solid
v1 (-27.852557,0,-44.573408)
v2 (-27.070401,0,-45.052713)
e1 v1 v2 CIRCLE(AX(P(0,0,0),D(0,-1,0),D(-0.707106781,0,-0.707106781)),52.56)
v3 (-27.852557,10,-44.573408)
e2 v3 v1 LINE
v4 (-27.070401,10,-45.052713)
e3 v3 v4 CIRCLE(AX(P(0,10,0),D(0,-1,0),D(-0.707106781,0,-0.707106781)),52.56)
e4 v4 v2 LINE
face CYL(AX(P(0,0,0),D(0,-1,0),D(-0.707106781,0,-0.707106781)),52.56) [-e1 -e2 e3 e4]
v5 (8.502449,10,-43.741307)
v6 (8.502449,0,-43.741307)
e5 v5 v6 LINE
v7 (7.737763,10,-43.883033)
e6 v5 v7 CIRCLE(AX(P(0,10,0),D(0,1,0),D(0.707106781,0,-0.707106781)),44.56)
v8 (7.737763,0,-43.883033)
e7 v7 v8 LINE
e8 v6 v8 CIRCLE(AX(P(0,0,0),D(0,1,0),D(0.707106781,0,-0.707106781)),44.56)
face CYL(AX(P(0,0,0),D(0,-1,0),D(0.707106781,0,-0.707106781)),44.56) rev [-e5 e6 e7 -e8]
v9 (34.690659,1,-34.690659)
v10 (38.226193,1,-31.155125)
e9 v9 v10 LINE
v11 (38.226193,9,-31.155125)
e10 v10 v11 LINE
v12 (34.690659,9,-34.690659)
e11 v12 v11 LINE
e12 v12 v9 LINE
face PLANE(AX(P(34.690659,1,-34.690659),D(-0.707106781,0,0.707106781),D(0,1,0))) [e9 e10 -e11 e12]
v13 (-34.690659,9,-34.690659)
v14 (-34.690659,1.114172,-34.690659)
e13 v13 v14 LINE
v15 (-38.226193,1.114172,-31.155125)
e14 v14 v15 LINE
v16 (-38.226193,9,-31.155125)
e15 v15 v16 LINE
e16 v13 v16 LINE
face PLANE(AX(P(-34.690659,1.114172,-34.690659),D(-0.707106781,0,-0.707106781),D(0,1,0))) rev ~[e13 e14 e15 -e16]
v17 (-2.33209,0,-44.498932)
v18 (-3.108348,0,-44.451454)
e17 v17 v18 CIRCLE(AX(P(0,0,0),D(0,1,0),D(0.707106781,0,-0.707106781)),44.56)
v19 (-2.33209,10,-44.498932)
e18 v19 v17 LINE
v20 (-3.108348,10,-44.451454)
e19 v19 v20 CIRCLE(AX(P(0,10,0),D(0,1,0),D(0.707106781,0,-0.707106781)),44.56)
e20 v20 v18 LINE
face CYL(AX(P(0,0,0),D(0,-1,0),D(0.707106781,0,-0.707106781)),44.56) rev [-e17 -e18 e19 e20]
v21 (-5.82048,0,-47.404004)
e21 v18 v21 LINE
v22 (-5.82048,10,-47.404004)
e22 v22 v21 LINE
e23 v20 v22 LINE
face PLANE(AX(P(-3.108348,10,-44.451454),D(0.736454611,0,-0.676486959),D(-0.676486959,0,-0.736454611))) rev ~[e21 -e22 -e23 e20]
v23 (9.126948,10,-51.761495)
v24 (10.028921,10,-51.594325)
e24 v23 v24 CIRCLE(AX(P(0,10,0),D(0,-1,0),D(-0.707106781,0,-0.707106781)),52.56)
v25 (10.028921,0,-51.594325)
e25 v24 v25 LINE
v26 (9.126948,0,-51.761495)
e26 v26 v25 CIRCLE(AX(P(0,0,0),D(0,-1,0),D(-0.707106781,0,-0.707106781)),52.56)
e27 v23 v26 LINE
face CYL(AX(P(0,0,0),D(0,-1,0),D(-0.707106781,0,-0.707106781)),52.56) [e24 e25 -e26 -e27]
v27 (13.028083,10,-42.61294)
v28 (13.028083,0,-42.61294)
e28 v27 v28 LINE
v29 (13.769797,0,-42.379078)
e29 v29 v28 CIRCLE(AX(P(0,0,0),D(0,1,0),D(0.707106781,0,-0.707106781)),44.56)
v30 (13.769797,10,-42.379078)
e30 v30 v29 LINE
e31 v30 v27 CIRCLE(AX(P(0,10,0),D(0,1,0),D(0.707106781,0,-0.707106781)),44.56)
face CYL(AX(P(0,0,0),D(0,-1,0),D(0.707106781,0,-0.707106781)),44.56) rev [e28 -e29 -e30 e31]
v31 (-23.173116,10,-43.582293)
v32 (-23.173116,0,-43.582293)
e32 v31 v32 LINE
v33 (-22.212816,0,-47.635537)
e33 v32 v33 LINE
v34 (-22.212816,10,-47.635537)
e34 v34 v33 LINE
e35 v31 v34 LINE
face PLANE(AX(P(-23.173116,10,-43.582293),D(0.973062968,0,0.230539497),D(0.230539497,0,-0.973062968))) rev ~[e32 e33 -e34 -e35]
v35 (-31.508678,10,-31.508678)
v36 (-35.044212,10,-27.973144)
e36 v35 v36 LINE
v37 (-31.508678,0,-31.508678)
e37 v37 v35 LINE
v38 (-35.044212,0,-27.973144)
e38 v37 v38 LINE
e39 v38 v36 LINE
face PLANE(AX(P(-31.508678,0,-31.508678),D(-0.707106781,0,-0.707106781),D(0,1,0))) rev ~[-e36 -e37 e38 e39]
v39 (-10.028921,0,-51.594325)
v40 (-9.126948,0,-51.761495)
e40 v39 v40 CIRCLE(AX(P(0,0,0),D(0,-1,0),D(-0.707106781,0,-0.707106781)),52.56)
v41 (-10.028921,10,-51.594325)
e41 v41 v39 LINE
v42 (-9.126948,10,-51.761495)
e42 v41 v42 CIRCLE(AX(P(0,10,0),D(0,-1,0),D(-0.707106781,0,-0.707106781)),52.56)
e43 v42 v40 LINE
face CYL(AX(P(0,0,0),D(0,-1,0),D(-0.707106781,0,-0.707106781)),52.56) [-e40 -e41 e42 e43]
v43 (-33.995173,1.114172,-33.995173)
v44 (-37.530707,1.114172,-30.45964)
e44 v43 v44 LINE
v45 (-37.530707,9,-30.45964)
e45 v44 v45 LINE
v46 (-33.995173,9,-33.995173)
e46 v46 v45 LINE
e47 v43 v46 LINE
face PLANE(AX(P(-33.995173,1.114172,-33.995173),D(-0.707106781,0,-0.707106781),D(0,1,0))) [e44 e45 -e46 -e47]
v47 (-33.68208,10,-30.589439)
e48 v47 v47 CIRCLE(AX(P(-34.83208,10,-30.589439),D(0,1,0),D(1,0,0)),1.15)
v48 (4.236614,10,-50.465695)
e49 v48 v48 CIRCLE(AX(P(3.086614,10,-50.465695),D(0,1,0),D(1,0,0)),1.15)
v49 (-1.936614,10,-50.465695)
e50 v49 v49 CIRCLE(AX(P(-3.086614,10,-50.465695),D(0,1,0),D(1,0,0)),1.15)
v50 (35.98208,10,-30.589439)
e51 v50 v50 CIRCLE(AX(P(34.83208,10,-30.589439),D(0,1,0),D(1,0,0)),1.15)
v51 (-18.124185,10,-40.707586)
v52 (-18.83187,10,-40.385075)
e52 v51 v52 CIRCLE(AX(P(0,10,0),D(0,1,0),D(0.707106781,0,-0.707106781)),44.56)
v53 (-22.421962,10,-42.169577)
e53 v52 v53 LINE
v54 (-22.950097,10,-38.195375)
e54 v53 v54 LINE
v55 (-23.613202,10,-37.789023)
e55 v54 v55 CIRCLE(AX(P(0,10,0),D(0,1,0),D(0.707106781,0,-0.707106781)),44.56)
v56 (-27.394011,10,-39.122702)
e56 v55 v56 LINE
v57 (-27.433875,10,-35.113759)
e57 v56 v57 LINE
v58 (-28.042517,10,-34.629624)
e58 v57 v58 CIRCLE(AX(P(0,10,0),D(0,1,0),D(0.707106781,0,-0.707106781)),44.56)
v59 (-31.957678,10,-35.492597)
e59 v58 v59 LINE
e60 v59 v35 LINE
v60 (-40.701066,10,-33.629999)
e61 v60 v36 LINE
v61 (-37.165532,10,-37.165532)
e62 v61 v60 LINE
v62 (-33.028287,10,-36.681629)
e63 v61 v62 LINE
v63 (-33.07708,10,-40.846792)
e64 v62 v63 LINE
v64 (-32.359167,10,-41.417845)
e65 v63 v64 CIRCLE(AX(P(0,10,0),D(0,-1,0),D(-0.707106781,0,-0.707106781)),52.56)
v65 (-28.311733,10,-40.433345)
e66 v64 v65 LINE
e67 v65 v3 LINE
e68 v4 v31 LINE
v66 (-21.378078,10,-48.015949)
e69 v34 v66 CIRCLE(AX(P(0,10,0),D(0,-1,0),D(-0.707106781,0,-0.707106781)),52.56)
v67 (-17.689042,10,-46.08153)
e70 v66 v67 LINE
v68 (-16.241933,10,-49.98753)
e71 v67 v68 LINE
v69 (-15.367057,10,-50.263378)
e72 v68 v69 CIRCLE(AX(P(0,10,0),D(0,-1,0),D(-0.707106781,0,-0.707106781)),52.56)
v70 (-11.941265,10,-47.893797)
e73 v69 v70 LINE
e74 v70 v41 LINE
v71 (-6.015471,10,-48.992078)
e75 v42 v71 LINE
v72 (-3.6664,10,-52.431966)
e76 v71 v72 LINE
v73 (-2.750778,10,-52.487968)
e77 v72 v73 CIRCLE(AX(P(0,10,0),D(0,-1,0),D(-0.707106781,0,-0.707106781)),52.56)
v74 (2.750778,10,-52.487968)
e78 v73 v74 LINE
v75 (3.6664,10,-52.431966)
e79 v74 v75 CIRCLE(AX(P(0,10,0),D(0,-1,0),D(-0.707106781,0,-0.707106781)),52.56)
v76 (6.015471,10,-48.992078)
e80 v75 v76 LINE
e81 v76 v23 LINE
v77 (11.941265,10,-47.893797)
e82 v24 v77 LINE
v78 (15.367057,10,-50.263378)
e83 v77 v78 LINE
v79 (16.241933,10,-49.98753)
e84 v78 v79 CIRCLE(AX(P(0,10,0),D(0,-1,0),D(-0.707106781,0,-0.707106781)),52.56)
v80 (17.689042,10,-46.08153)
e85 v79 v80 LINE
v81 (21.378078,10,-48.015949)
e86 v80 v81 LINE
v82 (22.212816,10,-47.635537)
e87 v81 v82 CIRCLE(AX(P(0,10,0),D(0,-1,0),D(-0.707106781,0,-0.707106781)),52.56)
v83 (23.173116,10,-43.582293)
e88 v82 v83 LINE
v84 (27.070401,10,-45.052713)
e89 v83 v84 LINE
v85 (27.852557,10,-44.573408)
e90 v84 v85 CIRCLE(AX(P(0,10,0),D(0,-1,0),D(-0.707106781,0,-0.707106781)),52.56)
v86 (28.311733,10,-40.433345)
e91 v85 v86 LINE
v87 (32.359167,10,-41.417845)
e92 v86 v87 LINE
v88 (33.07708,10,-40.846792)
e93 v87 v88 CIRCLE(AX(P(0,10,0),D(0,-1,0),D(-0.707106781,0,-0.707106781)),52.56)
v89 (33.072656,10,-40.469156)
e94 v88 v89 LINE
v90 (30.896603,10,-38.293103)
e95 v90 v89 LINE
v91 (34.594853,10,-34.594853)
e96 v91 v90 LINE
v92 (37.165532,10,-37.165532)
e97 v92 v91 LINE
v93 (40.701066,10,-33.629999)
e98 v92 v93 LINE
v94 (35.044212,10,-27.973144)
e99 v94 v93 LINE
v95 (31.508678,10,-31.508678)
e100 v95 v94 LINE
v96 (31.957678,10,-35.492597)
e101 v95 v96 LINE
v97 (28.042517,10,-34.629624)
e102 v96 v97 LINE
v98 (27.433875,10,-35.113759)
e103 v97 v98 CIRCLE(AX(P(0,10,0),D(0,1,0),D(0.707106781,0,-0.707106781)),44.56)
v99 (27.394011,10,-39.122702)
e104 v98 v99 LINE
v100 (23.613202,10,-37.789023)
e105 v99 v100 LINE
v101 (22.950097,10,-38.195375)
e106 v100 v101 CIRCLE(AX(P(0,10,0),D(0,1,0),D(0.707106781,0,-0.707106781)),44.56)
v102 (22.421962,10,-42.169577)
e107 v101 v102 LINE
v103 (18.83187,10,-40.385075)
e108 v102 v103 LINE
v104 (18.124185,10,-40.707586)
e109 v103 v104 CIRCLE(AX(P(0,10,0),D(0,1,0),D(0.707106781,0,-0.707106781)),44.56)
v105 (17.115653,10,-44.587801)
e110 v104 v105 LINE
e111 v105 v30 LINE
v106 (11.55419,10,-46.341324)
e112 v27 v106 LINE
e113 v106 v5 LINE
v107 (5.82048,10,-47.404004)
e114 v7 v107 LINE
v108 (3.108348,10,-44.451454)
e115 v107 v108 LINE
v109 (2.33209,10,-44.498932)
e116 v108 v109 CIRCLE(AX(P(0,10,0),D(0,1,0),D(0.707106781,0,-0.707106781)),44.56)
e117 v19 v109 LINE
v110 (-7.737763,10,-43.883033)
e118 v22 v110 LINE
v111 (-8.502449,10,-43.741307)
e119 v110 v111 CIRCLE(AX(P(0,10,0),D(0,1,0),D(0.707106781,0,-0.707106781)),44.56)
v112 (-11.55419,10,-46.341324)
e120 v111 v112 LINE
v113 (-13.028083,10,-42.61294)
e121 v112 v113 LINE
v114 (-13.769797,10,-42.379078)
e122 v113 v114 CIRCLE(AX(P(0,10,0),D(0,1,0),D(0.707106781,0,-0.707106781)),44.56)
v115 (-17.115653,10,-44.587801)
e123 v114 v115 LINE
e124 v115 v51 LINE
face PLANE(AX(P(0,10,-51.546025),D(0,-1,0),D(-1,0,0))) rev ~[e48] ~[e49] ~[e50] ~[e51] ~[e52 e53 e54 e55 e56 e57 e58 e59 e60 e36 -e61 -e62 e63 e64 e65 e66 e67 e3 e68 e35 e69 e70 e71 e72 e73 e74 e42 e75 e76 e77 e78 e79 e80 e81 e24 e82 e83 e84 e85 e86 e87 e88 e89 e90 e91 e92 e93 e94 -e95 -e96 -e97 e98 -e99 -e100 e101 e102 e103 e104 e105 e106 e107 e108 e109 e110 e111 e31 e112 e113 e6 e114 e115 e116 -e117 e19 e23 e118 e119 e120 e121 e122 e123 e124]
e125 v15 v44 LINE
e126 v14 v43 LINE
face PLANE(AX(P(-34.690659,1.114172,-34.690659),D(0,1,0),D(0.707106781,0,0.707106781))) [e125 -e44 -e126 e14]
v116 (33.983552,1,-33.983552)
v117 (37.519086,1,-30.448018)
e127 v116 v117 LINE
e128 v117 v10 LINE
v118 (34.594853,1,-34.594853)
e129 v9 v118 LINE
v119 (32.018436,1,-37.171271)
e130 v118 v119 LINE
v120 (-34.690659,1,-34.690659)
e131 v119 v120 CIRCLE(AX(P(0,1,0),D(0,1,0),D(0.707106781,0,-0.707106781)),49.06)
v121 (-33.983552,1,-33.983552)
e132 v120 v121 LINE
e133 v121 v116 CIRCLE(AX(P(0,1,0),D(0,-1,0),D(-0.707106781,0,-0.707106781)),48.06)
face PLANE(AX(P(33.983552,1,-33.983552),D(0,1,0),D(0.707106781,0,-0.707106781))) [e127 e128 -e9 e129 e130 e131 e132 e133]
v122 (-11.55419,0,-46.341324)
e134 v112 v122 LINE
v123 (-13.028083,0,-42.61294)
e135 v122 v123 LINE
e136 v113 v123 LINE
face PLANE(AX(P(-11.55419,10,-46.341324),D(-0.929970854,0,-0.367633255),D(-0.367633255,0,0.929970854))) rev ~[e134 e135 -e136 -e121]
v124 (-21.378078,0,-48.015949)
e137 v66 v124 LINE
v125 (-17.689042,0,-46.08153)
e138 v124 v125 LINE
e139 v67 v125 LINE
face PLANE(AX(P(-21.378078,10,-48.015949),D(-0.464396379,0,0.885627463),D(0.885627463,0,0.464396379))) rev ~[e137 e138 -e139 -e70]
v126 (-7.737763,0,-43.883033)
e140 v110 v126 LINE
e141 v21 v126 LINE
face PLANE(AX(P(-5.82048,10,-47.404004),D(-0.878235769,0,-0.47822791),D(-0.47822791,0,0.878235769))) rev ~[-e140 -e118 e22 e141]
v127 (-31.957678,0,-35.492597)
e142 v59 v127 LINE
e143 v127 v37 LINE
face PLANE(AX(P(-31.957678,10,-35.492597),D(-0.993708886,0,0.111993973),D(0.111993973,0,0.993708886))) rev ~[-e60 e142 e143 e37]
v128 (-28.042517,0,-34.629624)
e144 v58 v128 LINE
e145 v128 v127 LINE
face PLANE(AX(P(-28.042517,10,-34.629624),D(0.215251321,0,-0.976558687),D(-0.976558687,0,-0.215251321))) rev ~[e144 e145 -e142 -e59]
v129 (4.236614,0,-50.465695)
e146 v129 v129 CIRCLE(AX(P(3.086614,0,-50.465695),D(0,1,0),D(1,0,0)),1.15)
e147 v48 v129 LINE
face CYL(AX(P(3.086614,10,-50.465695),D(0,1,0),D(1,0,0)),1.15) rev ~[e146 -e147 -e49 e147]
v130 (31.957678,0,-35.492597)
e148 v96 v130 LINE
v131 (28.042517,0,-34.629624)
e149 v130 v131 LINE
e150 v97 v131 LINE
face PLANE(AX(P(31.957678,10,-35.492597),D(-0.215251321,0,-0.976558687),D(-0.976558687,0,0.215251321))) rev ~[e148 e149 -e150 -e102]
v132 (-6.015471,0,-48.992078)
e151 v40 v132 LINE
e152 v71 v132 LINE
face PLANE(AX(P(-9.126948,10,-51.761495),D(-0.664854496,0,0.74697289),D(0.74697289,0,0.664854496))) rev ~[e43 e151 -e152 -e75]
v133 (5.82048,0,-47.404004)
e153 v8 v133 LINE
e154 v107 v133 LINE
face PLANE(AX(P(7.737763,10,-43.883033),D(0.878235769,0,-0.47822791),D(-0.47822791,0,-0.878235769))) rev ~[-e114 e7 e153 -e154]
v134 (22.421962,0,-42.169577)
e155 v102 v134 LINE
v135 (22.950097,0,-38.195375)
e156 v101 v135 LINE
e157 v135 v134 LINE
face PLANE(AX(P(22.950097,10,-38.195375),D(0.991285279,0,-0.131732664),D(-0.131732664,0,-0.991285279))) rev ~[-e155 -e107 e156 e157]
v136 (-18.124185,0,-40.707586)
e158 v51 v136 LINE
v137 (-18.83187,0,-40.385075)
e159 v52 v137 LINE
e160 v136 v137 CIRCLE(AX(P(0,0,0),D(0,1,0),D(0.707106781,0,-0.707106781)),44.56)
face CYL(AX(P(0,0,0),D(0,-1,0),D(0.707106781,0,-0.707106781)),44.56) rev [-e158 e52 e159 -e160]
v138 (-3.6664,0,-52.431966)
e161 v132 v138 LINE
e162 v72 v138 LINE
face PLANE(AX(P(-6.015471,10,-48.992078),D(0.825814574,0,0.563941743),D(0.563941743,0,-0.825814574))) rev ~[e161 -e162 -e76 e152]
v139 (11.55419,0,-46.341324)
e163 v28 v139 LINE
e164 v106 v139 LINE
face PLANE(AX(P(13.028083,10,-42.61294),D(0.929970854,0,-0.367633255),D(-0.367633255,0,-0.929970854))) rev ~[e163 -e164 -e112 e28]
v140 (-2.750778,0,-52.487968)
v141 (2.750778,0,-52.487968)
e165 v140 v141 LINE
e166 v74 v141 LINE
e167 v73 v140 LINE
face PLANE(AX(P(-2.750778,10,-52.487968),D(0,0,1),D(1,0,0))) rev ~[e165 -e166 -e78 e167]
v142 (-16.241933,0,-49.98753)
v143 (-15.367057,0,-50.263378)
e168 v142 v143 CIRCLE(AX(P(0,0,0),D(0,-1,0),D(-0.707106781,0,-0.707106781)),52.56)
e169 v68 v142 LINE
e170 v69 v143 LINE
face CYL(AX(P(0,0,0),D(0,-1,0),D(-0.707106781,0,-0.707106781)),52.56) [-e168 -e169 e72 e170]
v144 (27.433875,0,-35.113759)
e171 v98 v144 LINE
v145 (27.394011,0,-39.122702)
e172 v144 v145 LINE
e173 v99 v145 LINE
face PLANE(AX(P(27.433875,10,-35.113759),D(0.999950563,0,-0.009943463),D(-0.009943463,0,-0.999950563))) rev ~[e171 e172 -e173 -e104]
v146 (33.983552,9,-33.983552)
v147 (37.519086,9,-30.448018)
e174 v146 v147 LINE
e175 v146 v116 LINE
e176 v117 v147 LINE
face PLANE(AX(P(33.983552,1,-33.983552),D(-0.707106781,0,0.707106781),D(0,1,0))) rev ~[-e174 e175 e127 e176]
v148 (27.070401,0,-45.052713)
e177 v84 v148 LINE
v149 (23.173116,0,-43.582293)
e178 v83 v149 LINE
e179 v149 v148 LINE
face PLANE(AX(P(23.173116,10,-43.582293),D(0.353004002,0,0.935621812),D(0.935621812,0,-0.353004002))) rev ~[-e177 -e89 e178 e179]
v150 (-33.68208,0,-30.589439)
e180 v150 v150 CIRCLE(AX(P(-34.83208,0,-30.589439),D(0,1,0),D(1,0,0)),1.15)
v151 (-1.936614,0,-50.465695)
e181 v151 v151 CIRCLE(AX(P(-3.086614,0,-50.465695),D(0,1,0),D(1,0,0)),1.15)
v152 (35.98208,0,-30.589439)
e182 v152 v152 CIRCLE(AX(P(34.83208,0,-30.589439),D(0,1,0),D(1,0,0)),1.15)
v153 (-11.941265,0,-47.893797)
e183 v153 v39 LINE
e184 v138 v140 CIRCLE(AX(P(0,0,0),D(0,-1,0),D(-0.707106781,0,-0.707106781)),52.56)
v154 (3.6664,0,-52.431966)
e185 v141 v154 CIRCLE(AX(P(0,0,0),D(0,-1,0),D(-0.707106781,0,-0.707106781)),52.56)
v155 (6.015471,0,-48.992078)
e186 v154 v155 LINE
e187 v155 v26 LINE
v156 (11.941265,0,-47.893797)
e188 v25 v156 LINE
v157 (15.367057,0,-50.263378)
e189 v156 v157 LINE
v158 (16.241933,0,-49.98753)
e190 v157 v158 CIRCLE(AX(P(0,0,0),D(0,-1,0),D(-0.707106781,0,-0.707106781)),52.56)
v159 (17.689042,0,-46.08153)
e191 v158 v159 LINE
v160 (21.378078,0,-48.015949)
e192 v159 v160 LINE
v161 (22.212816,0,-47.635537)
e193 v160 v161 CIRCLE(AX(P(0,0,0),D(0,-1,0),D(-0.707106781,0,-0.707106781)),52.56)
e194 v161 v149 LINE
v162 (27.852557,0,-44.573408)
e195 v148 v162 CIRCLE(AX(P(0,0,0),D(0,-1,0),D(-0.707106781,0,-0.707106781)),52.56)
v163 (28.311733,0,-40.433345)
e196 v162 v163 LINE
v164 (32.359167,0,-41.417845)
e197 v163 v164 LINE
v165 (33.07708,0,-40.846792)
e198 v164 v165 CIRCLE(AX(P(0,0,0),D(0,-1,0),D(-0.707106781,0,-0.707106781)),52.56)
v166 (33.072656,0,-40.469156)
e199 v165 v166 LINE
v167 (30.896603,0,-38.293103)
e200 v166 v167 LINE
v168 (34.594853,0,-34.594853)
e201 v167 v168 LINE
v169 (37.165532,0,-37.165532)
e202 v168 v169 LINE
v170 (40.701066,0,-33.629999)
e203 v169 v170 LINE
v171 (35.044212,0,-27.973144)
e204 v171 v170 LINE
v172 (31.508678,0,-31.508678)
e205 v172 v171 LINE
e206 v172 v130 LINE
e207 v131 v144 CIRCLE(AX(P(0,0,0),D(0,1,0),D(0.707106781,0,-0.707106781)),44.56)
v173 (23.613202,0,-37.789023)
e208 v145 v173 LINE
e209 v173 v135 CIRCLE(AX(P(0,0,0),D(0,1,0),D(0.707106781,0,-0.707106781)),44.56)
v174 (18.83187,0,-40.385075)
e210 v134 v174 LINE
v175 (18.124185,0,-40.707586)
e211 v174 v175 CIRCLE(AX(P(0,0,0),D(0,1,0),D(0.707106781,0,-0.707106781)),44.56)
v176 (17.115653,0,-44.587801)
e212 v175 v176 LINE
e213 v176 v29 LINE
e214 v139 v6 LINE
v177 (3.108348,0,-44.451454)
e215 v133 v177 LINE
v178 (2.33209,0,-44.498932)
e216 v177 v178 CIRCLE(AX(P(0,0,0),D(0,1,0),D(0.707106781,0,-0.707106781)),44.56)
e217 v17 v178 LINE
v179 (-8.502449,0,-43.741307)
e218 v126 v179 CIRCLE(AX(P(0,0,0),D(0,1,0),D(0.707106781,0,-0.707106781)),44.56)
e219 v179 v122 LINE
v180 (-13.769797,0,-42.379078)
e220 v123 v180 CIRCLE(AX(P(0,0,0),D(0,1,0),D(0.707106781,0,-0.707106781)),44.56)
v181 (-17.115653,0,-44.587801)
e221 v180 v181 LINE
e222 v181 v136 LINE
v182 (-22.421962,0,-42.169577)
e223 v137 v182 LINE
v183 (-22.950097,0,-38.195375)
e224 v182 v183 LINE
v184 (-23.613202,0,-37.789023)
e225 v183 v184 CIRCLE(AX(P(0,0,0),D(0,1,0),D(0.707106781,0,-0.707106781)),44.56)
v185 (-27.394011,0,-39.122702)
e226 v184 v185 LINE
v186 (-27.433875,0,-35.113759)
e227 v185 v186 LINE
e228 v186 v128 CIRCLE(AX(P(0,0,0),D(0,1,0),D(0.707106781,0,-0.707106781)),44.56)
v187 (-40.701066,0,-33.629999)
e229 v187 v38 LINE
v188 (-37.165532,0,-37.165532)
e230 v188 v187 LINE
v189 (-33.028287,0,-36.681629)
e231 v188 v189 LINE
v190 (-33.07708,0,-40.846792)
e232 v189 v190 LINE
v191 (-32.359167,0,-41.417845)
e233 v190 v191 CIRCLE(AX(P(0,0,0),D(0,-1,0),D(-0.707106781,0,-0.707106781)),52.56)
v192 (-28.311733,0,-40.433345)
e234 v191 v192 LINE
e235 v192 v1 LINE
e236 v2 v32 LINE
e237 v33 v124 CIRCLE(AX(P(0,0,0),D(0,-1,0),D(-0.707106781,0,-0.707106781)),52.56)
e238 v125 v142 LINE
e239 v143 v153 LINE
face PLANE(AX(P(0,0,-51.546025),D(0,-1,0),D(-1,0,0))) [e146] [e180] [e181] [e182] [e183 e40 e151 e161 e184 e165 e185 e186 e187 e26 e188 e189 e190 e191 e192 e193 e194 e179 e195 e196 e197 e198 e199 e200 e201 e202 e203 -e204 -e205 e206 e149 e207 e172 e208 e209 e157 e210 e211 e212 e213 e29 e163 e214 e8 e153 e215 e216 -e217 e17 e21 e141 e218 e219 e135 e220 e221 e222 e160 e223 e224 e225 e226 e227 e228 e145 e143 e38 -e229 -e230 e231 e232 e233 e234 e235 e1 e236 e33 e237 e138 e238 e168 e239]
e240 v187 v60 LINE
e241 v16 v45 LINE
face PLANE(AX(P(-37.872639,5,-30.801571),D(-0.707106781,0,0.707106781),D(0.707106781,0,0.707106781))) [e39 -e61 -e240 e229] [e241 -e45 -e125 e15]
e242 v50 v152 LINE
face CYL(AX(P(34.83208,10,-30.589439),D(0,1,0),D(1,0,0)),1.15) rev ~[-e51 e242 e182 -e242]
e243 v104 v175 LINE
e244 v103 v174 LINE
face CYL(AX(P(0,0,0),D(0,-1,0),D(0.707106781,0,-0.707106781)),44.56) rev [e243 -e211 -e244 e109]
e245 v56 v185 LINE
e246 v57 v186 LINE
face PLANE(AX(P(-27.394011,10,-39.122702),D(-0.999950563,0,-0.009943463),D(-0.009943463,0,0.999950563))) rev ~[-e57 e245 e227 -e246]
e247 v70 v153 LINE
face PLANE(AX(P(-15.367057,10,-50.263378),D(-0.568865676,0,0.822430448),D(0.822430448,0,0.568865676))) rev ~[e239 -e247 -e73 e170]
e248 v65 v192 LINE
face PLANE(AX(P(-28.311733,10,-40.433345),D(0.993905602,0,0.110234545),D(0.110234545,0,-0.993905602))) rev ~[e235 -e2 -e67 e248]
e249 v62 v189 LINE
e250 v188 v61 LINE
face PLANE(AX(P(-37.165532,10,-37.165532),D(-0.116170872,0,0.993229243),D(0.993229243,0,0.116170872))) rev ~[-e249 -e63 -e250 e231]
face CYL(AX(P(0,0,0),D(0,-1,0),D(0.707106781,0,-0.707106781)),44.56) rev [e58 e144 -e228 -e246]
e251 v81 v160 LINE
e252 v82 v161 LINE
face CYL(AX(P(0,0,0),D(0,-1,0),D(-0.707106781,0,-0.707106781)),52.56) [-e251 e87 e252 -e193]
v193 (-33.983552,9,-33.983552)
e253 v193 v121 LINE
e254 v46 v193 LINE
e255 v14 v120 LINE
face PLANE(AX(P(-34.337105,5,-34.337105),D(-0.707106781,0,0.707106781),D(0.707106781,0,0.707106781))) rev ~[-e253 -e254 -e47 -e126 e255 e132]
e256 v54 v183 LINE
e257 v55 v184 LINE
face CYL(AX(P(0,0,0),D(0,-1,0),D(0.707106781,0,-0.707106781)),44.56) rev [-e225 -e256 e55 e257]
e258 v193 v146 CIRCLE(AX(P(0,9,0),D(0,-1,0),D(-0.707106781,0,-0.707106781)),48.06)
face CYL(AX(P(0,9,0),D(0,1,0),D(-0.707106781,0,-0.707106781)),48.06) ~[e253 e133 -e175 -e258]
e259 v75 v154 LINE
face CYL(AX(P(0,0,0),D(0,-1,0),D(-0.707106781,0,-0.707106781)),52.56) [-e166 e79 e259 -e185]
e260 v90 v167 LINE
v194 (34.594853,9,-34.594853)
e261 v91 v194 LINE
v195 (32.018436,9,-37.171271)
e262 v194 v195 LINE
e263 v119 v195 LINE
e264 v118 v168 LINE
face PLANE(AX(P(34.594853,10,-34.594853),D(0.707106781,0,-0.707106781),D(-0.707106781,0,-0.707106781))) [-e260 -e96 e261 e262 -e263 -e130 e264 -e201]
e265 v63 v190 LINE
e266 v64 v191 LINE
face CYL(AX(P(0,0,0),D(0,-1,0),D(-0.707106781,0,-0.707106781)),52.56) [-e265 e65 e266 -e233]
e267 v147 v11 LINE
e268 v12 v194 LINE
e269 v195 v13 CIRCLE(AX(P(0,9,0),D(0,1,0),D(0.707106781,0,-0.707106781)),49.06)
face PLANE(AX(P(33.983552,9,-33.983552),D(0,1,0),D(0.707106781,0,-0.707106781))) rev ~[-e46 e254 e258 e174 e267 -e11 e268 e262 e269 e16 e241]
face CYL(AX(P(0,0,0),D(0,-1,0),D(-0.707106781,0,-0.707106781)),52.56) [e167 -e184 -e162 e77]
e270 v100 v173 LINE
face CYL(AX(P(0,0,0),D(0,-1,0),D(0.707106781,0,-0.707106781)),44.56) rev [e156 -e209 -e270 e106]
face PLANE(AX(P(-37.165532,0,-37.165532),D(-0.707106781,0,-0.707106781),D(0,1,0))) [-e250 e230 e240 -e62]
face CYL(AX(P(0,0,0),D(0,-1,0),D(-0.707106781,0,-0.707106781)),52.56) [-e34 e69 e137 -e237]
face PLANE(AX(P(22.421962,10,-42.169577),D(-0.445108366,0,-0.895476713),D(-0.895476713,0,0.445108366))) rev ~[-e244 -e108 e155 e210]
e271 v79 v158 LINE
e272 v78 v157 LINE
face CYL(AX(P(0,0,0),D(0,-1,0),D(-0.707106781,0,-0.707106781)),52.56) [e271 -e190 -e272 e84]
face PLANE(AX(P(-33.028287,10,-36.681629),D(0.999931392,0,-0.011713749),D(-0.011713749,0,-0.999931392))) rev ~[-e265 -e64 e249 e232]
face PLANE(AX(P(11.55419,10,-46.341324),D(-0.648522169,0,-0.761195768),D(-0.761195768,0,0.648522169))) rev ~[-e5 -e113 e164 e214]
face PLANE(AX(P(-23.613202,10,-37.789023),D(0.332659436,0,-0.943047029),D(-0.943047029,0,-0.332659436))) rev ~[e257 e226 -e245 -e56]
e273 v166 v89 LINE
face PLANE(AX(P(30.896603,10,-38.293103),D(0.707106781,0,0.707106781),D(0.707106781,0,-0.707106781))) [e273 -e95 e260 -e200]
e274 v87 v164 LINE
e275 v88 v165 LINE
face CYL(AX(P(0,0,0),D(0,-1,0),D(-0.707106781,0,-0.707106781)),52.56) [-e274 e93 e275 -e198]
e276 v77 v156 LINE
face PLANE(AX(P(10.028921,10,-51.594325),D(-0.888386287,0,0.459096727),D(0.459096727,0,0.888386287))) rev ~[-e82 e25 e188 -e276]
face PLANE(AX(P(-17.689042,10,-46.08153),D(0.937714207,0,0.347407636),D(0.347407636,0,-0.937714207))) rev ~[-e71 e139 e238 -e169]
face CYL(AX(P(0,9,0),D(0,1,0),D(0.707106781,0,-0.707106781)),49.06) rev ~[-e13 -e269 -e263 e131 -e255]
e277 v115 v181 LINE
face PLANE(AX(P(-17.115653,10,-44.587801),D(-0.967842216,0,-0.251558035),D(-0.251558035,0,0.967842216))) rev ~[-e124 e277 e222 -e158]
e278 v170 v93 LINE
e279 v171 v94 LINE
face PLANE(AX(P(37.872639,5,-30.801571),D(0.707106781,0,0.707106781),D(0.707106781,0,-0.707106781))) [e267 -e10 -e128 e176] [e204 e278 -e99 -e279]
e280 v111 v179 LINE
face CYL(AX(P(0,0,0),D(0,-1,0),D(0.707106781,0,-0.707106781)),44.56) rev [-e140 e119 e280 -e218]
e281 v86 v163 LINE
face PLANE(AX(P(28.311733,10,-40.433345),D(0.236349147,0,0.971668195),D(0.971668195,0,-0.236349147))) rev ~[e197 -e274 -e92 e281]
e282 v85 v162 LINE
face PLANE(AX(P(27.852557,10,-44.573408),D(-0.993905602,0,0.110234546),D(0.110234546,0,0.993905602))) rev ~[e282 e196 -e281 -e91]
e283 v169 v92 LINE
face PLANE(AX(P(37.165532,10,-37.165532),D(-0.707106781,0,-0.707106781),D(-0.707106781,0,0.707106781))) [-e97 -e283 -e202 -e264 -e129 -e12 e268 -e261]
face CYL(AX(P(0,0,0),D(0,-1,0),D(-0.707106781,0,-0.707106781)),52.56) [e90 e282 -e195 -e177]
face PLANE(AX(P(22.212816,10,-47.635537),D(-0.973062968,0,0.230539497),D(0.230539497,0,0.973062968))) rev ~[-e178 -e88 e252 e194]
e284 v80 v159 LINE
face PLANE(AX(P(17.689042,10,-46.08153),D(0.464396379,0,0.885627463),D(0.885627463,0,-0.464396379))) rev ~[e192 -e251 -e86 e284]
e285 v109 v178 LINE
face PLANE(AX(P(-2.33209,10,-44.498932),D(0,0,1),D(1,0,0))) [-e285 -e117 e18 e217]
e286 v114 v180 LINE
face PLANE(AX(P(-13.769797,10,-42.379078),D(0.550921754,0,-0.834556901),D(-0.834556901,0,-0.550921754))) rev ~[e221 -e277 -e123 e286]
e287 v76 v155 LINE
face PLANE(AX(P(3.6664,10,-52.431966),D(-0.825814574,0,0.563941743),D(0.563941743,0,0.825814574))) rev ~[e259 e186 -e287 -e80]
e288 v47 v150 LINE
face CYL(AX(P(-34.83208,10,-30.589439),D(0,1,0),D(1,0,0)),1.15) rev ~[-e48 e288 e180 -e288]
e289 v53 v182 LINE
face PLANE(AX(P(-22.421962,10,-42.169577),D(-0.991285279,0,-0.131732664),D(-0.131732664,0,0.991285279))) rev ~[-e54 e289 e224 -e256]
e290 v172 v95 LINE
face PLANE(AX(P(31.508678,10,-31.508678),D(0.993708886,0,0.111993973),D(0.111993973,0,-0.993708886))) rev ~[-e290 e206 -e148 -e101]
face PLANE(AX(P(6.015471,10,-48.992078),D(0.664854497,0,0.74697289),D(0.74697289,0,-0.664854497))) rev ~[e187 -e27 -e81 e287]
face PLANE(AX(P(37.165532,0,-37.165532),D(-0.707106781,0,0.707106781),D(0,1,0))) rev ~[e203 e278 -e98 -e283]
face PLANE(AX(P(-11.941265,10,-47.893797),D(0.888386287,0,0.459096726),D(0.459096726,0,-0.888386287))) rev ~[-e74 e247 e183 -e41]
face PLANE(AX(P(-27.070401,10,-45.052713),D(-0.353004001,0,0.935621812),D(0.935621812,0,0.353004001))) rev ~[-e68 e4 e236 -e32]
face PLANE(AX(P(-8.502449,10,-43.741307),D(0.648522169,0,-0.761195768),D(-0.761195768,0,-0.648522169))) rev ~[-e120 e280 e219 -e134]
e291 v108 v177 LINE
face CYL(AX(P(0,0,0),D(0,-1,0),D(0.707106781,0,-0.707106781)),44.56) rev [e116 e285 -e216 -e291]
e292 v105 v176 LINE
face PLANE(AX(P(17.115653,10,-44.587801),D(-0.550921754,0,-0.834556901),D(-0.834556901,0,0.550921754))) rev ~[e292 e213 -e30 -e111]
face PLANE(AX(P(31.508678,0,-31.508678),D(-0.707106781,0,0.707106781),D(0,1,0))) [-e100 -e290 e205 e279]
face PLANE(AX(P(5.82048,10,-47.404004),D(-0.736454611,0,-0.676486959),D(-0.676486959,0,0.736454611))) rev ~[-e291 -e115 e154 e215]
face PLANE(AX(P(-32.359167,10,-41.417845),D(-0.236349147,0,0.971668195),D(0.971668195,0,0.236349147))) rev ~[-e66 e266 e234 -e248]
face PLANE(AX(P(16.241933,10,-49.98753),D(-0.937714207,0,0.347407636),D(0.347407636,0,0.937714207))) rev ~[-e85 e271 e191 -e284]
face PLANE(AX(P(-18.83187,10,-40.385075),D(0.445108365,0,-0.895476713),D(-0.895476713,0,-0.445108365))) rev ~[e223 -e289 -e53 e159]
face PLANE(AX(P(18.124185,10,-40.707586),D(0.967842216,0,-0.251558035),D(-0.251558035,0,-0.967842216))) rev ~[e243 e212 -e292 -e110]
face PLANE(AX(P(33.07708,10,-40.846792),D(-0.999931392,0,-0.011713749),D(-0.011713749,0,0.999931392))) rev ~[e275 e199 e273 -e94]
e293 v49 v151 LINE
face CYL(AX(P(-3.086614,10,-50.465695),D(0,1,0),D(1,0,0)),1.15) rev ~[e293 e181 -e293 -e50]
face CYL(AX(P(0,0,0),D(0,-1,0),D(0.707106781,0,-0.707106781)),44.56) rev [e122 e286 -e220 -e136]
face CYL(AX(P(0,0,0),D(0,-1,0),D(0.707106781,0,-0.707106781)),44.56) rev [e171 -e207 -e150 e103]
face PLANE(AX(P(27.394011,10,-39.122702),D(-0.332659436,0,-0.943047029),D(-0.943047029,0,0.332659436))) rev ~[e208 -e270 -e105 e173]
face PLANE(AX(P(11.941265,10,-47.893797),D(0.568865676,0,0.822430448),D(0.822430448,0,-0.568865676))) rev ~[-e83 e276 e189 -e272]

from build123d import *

# Parameters (mm, degrees)
BOSS_EXTRUDE1_DEPTH = 10
CUT_EXTRUDE1_DEPTH  = 10
CIRPATTERN1_COUNT   = 13
CIRPATTERN1_ANGLE   = 84
CUT_EXTRUDE2_START  = -1
CUT_EXTRUDE2_DEPTH  = 8
SKETCH5_W           = 8
SKETCH5_H           = 10
SKETCH5_W_2         = 0.983564582
SKETCH5_H_2         = 7.885827621
BOSS_EXTRUDE2_DEPTH = 5
SKETCH6_W           = 8
SKETCH6_H           = 10
SKETCH6_W_2         = 1
SKETCH6_H_2         = 8
BOSS_EXTRUDE3_DEPTH = 5
SKETCH7_R           = 1.15
CUT_EXTRUDE3_DEPTH  = 20
SKETCH9_R           = 1.15
CUT_EXTRUDE4_DEPTH  = 26
SKETCH10_R          = 1.15
CUT_EXTRUDE5_DEPTH  = 26
BOSS_EXTRUDE4_DEPTH = 10
CUT_EXTRUDE7_DEPTH  = 26


with BuildPart() as part:
    # Sketch1 → Boss-Extrude1 (new body)
    with BuildSketch(Plane(origin=(0, 0, 0), x_dir=(1, 0, 0), z_dir=(0, 1, 0))):
        with BuildLine():
            Line((-31.50867817, 31.50867817), (-37.165532419, 37.165532419))
            ThreePointArc((-37.165532419, 37.165532419), (0, 52.56), (37.165532419, 37.165532419))
            Line((37.165532419, 37.165532419), (31.50867817, 31.50867817))
            ThreePointArc((31.50867817, 31.50867817), (0, 44.56), (-31.50867817, 31.50867817))
        make_face()
    extrude(amount=BOSS_EXTRUDE1_DEPTH)

    # Sketch3 → Cut-Extrude1 (cut)
    with BuildSketch(Plane(origin=(0, 10, 0), x_dir=(1, 0, 0), z_dir=(0, 1, 0))):
        with BuildLine():
            Line((-31.95767776, 35.492596865), (-31.50867817, 31.50867817))
            ThreePointArc((-31.50867817, 31.50867817), (-29.816459819, 33.114533423), (-28.042516625, 34.629624043))
            Line((-28.042516625, 34.629624043), (-31.95767776, 35.492596865))
        make_face()
        with BuildLine():
            Line((-33.02828673, 36.681628586), (-33.077079754, 40.846791734))
            ThreePointArc((-33.077079754, 40.846791734), (-35.16950467, 39.059692027), (-37.165532419, 37.165532419))
            Line((-37.165532419, 37.165532419), (-33.02828673, 36.681628586))
        make_face()
    cut_extrude1 = extrude(amount=-CUT_EXTRUDE1_DEPTH, mode=Mode.SUBTRACT)

    # CirPattern1: Cut-Extrude1 ×13 about axis
    cirpattern1_axis = Axis((0, 0, 0), (0, -1, 0))
    for i in range(1, CIRPATTERN1_COUNT):
        add(cut_extrude1.rotate(cirpattern1_axis, i * CIRPATTERN1_ANGLE / (CIRPATTERN1_COUNT - 1)), mode=Mode.SUBTRACT)

    # Sketch4 → Cut-Extrude2 (cut)
    with BuildSketch(Plane(origin=(0, 10, 0), x_dir=(1, 0, 0), z_dir=(0, 1, 0)).offset(CUT_EXTRUDE2_START)):
        with BuildLine():
            Line((33.983551904, 33.983551904), (34.690658685, 34.690658685))
            ThreePointArc((34.690658685, 34.690658685), (0, 49.06), (-34.690658685, 34.690658685))
            Line((-34.690658685, 34.690658685), (-33.983551904, 33.983551904))
            ThreePointArc((-33.983551904, 33.983551904), (0, 48.06), (33.983551904, 33.983551904))
        make_face()
    extrude(amount=-CUT_EXTRUDE2_DEPTH, mode=Mode.SUBTRACT)

    # Sketch5 → Boss-Extrude2 (add)
    with BuildSketch(Plane(origin=(0, 0, 0), x_dir=(0.707106781, 0, 0.707106781), z_dir=(-0.707106781, 0, 0.707106781))):
        with Locations((-48.56, 5)):
            Rectangle(SKETCH5_W, SKETCH5_H)
        with Locations((-48.568217709, 5.057086189)):
            Rectangle(SKETCH5_W_2, SKETCH5_H_2, mode=Mode.SUBTRACT)
    extrude(amount=BOSS_EXTRUDE2_DEPTH)

    # Sketch6 → Boss-Extrude3 (add)
    with BuildSketch(Plane(origin=(0, 0, 0), x_dir=(0.707106781, 0, -0.707106781), z_dir=(0.707106781, 0, 0.707106781))):
        with Locations((48.56, 5)):
            Rectangle(SKETCH6_W, SKETCH6_H)
        with Locations((48.56, 5)):
            Rectangle(SKETCH6_W_2, SKETCH6_H_2, mode=Mode.SUBTRACT)
    extrude(amount=BOSS_EXTRUDE3_DEPTH)

    # Sketch7 → Cut-Extrude3 (cut)
    with BuildSketch(Plane(origin=(0, 10, 0), x_dir=(1, 0, 0), z_dir=(0, 1, 0))):
        with Locations((-3.086614159, 50.465695408)):
            Circle(SKETCH7_R)
        with Locations((3.086614159, 50.465695408)):
            Circle(SKETCH7_R)
    extrude(amount=-CUT_EXTRUDE3_DEPTH, mode=Mode.SUBTRACT)

    # Sketch9 → Cut-Extrude4 (cut)
    with BuildSketch(Plane(origin=(0, 10, 0), x_dir=(1, 0, 0), z_dir=(0, 1, 0))):
        with Locations((34.832080041, 30.589439354)):
            Circle(SKETCH9_R)
    extrude(amount=-CUT_EXTRUDE4_DEPTH, mode=Mode.SUBTRACT)

    # Sketch10 → Cut-Extrude5 (cut)
    with BuildSketch(Plane(origin=(0, 10, 0), x_dir=(1, 0, 0), z_dir=(0, 1, 0))):
        with Locations((-34.832080041, 30.589439354)):
            Circle(SKETCH10_R)
    extrude(amount=-CUT_EXTRUDE5_DEPTH, mode=Mode.SUBTRACT)

    # Sketch11 → Boss-Extrude4 (add)
    with BuildSketch(Plane(origin=(0, 10, 0), x_dir=(1, 0, 0), z_dir=(0, 1, 0))):
        Polygon((-2.75077786, 52.487968347), (2.75077786, 52.487968347), (0, 49.36), align=None)
        Polygon((0, 47.76), (-2.33209021, 44.498932069), (2.33209021, 44.498932069), align=None)
    extrude(amount=-BOSS_EXTRUDE4_DEPTH)

    # Sketch14 → Cut-Extrude7 (cut)
    with BuildSketch(Plane(origin=(0, 10, 0), x_dir=(1, 0, 0), z_dir=(0, 1, 0))):
        Polygon((37.165532419, 37.165532419), (34.594853292, 34.594853292), (30.896603346, 38.293103238), (33.467282473, 40.863782365), align=None)
    extrude(amount=-CUT_EXTRUDE7_DEPTH, mode=Mode.SUBTRACT)


solid = part.part
